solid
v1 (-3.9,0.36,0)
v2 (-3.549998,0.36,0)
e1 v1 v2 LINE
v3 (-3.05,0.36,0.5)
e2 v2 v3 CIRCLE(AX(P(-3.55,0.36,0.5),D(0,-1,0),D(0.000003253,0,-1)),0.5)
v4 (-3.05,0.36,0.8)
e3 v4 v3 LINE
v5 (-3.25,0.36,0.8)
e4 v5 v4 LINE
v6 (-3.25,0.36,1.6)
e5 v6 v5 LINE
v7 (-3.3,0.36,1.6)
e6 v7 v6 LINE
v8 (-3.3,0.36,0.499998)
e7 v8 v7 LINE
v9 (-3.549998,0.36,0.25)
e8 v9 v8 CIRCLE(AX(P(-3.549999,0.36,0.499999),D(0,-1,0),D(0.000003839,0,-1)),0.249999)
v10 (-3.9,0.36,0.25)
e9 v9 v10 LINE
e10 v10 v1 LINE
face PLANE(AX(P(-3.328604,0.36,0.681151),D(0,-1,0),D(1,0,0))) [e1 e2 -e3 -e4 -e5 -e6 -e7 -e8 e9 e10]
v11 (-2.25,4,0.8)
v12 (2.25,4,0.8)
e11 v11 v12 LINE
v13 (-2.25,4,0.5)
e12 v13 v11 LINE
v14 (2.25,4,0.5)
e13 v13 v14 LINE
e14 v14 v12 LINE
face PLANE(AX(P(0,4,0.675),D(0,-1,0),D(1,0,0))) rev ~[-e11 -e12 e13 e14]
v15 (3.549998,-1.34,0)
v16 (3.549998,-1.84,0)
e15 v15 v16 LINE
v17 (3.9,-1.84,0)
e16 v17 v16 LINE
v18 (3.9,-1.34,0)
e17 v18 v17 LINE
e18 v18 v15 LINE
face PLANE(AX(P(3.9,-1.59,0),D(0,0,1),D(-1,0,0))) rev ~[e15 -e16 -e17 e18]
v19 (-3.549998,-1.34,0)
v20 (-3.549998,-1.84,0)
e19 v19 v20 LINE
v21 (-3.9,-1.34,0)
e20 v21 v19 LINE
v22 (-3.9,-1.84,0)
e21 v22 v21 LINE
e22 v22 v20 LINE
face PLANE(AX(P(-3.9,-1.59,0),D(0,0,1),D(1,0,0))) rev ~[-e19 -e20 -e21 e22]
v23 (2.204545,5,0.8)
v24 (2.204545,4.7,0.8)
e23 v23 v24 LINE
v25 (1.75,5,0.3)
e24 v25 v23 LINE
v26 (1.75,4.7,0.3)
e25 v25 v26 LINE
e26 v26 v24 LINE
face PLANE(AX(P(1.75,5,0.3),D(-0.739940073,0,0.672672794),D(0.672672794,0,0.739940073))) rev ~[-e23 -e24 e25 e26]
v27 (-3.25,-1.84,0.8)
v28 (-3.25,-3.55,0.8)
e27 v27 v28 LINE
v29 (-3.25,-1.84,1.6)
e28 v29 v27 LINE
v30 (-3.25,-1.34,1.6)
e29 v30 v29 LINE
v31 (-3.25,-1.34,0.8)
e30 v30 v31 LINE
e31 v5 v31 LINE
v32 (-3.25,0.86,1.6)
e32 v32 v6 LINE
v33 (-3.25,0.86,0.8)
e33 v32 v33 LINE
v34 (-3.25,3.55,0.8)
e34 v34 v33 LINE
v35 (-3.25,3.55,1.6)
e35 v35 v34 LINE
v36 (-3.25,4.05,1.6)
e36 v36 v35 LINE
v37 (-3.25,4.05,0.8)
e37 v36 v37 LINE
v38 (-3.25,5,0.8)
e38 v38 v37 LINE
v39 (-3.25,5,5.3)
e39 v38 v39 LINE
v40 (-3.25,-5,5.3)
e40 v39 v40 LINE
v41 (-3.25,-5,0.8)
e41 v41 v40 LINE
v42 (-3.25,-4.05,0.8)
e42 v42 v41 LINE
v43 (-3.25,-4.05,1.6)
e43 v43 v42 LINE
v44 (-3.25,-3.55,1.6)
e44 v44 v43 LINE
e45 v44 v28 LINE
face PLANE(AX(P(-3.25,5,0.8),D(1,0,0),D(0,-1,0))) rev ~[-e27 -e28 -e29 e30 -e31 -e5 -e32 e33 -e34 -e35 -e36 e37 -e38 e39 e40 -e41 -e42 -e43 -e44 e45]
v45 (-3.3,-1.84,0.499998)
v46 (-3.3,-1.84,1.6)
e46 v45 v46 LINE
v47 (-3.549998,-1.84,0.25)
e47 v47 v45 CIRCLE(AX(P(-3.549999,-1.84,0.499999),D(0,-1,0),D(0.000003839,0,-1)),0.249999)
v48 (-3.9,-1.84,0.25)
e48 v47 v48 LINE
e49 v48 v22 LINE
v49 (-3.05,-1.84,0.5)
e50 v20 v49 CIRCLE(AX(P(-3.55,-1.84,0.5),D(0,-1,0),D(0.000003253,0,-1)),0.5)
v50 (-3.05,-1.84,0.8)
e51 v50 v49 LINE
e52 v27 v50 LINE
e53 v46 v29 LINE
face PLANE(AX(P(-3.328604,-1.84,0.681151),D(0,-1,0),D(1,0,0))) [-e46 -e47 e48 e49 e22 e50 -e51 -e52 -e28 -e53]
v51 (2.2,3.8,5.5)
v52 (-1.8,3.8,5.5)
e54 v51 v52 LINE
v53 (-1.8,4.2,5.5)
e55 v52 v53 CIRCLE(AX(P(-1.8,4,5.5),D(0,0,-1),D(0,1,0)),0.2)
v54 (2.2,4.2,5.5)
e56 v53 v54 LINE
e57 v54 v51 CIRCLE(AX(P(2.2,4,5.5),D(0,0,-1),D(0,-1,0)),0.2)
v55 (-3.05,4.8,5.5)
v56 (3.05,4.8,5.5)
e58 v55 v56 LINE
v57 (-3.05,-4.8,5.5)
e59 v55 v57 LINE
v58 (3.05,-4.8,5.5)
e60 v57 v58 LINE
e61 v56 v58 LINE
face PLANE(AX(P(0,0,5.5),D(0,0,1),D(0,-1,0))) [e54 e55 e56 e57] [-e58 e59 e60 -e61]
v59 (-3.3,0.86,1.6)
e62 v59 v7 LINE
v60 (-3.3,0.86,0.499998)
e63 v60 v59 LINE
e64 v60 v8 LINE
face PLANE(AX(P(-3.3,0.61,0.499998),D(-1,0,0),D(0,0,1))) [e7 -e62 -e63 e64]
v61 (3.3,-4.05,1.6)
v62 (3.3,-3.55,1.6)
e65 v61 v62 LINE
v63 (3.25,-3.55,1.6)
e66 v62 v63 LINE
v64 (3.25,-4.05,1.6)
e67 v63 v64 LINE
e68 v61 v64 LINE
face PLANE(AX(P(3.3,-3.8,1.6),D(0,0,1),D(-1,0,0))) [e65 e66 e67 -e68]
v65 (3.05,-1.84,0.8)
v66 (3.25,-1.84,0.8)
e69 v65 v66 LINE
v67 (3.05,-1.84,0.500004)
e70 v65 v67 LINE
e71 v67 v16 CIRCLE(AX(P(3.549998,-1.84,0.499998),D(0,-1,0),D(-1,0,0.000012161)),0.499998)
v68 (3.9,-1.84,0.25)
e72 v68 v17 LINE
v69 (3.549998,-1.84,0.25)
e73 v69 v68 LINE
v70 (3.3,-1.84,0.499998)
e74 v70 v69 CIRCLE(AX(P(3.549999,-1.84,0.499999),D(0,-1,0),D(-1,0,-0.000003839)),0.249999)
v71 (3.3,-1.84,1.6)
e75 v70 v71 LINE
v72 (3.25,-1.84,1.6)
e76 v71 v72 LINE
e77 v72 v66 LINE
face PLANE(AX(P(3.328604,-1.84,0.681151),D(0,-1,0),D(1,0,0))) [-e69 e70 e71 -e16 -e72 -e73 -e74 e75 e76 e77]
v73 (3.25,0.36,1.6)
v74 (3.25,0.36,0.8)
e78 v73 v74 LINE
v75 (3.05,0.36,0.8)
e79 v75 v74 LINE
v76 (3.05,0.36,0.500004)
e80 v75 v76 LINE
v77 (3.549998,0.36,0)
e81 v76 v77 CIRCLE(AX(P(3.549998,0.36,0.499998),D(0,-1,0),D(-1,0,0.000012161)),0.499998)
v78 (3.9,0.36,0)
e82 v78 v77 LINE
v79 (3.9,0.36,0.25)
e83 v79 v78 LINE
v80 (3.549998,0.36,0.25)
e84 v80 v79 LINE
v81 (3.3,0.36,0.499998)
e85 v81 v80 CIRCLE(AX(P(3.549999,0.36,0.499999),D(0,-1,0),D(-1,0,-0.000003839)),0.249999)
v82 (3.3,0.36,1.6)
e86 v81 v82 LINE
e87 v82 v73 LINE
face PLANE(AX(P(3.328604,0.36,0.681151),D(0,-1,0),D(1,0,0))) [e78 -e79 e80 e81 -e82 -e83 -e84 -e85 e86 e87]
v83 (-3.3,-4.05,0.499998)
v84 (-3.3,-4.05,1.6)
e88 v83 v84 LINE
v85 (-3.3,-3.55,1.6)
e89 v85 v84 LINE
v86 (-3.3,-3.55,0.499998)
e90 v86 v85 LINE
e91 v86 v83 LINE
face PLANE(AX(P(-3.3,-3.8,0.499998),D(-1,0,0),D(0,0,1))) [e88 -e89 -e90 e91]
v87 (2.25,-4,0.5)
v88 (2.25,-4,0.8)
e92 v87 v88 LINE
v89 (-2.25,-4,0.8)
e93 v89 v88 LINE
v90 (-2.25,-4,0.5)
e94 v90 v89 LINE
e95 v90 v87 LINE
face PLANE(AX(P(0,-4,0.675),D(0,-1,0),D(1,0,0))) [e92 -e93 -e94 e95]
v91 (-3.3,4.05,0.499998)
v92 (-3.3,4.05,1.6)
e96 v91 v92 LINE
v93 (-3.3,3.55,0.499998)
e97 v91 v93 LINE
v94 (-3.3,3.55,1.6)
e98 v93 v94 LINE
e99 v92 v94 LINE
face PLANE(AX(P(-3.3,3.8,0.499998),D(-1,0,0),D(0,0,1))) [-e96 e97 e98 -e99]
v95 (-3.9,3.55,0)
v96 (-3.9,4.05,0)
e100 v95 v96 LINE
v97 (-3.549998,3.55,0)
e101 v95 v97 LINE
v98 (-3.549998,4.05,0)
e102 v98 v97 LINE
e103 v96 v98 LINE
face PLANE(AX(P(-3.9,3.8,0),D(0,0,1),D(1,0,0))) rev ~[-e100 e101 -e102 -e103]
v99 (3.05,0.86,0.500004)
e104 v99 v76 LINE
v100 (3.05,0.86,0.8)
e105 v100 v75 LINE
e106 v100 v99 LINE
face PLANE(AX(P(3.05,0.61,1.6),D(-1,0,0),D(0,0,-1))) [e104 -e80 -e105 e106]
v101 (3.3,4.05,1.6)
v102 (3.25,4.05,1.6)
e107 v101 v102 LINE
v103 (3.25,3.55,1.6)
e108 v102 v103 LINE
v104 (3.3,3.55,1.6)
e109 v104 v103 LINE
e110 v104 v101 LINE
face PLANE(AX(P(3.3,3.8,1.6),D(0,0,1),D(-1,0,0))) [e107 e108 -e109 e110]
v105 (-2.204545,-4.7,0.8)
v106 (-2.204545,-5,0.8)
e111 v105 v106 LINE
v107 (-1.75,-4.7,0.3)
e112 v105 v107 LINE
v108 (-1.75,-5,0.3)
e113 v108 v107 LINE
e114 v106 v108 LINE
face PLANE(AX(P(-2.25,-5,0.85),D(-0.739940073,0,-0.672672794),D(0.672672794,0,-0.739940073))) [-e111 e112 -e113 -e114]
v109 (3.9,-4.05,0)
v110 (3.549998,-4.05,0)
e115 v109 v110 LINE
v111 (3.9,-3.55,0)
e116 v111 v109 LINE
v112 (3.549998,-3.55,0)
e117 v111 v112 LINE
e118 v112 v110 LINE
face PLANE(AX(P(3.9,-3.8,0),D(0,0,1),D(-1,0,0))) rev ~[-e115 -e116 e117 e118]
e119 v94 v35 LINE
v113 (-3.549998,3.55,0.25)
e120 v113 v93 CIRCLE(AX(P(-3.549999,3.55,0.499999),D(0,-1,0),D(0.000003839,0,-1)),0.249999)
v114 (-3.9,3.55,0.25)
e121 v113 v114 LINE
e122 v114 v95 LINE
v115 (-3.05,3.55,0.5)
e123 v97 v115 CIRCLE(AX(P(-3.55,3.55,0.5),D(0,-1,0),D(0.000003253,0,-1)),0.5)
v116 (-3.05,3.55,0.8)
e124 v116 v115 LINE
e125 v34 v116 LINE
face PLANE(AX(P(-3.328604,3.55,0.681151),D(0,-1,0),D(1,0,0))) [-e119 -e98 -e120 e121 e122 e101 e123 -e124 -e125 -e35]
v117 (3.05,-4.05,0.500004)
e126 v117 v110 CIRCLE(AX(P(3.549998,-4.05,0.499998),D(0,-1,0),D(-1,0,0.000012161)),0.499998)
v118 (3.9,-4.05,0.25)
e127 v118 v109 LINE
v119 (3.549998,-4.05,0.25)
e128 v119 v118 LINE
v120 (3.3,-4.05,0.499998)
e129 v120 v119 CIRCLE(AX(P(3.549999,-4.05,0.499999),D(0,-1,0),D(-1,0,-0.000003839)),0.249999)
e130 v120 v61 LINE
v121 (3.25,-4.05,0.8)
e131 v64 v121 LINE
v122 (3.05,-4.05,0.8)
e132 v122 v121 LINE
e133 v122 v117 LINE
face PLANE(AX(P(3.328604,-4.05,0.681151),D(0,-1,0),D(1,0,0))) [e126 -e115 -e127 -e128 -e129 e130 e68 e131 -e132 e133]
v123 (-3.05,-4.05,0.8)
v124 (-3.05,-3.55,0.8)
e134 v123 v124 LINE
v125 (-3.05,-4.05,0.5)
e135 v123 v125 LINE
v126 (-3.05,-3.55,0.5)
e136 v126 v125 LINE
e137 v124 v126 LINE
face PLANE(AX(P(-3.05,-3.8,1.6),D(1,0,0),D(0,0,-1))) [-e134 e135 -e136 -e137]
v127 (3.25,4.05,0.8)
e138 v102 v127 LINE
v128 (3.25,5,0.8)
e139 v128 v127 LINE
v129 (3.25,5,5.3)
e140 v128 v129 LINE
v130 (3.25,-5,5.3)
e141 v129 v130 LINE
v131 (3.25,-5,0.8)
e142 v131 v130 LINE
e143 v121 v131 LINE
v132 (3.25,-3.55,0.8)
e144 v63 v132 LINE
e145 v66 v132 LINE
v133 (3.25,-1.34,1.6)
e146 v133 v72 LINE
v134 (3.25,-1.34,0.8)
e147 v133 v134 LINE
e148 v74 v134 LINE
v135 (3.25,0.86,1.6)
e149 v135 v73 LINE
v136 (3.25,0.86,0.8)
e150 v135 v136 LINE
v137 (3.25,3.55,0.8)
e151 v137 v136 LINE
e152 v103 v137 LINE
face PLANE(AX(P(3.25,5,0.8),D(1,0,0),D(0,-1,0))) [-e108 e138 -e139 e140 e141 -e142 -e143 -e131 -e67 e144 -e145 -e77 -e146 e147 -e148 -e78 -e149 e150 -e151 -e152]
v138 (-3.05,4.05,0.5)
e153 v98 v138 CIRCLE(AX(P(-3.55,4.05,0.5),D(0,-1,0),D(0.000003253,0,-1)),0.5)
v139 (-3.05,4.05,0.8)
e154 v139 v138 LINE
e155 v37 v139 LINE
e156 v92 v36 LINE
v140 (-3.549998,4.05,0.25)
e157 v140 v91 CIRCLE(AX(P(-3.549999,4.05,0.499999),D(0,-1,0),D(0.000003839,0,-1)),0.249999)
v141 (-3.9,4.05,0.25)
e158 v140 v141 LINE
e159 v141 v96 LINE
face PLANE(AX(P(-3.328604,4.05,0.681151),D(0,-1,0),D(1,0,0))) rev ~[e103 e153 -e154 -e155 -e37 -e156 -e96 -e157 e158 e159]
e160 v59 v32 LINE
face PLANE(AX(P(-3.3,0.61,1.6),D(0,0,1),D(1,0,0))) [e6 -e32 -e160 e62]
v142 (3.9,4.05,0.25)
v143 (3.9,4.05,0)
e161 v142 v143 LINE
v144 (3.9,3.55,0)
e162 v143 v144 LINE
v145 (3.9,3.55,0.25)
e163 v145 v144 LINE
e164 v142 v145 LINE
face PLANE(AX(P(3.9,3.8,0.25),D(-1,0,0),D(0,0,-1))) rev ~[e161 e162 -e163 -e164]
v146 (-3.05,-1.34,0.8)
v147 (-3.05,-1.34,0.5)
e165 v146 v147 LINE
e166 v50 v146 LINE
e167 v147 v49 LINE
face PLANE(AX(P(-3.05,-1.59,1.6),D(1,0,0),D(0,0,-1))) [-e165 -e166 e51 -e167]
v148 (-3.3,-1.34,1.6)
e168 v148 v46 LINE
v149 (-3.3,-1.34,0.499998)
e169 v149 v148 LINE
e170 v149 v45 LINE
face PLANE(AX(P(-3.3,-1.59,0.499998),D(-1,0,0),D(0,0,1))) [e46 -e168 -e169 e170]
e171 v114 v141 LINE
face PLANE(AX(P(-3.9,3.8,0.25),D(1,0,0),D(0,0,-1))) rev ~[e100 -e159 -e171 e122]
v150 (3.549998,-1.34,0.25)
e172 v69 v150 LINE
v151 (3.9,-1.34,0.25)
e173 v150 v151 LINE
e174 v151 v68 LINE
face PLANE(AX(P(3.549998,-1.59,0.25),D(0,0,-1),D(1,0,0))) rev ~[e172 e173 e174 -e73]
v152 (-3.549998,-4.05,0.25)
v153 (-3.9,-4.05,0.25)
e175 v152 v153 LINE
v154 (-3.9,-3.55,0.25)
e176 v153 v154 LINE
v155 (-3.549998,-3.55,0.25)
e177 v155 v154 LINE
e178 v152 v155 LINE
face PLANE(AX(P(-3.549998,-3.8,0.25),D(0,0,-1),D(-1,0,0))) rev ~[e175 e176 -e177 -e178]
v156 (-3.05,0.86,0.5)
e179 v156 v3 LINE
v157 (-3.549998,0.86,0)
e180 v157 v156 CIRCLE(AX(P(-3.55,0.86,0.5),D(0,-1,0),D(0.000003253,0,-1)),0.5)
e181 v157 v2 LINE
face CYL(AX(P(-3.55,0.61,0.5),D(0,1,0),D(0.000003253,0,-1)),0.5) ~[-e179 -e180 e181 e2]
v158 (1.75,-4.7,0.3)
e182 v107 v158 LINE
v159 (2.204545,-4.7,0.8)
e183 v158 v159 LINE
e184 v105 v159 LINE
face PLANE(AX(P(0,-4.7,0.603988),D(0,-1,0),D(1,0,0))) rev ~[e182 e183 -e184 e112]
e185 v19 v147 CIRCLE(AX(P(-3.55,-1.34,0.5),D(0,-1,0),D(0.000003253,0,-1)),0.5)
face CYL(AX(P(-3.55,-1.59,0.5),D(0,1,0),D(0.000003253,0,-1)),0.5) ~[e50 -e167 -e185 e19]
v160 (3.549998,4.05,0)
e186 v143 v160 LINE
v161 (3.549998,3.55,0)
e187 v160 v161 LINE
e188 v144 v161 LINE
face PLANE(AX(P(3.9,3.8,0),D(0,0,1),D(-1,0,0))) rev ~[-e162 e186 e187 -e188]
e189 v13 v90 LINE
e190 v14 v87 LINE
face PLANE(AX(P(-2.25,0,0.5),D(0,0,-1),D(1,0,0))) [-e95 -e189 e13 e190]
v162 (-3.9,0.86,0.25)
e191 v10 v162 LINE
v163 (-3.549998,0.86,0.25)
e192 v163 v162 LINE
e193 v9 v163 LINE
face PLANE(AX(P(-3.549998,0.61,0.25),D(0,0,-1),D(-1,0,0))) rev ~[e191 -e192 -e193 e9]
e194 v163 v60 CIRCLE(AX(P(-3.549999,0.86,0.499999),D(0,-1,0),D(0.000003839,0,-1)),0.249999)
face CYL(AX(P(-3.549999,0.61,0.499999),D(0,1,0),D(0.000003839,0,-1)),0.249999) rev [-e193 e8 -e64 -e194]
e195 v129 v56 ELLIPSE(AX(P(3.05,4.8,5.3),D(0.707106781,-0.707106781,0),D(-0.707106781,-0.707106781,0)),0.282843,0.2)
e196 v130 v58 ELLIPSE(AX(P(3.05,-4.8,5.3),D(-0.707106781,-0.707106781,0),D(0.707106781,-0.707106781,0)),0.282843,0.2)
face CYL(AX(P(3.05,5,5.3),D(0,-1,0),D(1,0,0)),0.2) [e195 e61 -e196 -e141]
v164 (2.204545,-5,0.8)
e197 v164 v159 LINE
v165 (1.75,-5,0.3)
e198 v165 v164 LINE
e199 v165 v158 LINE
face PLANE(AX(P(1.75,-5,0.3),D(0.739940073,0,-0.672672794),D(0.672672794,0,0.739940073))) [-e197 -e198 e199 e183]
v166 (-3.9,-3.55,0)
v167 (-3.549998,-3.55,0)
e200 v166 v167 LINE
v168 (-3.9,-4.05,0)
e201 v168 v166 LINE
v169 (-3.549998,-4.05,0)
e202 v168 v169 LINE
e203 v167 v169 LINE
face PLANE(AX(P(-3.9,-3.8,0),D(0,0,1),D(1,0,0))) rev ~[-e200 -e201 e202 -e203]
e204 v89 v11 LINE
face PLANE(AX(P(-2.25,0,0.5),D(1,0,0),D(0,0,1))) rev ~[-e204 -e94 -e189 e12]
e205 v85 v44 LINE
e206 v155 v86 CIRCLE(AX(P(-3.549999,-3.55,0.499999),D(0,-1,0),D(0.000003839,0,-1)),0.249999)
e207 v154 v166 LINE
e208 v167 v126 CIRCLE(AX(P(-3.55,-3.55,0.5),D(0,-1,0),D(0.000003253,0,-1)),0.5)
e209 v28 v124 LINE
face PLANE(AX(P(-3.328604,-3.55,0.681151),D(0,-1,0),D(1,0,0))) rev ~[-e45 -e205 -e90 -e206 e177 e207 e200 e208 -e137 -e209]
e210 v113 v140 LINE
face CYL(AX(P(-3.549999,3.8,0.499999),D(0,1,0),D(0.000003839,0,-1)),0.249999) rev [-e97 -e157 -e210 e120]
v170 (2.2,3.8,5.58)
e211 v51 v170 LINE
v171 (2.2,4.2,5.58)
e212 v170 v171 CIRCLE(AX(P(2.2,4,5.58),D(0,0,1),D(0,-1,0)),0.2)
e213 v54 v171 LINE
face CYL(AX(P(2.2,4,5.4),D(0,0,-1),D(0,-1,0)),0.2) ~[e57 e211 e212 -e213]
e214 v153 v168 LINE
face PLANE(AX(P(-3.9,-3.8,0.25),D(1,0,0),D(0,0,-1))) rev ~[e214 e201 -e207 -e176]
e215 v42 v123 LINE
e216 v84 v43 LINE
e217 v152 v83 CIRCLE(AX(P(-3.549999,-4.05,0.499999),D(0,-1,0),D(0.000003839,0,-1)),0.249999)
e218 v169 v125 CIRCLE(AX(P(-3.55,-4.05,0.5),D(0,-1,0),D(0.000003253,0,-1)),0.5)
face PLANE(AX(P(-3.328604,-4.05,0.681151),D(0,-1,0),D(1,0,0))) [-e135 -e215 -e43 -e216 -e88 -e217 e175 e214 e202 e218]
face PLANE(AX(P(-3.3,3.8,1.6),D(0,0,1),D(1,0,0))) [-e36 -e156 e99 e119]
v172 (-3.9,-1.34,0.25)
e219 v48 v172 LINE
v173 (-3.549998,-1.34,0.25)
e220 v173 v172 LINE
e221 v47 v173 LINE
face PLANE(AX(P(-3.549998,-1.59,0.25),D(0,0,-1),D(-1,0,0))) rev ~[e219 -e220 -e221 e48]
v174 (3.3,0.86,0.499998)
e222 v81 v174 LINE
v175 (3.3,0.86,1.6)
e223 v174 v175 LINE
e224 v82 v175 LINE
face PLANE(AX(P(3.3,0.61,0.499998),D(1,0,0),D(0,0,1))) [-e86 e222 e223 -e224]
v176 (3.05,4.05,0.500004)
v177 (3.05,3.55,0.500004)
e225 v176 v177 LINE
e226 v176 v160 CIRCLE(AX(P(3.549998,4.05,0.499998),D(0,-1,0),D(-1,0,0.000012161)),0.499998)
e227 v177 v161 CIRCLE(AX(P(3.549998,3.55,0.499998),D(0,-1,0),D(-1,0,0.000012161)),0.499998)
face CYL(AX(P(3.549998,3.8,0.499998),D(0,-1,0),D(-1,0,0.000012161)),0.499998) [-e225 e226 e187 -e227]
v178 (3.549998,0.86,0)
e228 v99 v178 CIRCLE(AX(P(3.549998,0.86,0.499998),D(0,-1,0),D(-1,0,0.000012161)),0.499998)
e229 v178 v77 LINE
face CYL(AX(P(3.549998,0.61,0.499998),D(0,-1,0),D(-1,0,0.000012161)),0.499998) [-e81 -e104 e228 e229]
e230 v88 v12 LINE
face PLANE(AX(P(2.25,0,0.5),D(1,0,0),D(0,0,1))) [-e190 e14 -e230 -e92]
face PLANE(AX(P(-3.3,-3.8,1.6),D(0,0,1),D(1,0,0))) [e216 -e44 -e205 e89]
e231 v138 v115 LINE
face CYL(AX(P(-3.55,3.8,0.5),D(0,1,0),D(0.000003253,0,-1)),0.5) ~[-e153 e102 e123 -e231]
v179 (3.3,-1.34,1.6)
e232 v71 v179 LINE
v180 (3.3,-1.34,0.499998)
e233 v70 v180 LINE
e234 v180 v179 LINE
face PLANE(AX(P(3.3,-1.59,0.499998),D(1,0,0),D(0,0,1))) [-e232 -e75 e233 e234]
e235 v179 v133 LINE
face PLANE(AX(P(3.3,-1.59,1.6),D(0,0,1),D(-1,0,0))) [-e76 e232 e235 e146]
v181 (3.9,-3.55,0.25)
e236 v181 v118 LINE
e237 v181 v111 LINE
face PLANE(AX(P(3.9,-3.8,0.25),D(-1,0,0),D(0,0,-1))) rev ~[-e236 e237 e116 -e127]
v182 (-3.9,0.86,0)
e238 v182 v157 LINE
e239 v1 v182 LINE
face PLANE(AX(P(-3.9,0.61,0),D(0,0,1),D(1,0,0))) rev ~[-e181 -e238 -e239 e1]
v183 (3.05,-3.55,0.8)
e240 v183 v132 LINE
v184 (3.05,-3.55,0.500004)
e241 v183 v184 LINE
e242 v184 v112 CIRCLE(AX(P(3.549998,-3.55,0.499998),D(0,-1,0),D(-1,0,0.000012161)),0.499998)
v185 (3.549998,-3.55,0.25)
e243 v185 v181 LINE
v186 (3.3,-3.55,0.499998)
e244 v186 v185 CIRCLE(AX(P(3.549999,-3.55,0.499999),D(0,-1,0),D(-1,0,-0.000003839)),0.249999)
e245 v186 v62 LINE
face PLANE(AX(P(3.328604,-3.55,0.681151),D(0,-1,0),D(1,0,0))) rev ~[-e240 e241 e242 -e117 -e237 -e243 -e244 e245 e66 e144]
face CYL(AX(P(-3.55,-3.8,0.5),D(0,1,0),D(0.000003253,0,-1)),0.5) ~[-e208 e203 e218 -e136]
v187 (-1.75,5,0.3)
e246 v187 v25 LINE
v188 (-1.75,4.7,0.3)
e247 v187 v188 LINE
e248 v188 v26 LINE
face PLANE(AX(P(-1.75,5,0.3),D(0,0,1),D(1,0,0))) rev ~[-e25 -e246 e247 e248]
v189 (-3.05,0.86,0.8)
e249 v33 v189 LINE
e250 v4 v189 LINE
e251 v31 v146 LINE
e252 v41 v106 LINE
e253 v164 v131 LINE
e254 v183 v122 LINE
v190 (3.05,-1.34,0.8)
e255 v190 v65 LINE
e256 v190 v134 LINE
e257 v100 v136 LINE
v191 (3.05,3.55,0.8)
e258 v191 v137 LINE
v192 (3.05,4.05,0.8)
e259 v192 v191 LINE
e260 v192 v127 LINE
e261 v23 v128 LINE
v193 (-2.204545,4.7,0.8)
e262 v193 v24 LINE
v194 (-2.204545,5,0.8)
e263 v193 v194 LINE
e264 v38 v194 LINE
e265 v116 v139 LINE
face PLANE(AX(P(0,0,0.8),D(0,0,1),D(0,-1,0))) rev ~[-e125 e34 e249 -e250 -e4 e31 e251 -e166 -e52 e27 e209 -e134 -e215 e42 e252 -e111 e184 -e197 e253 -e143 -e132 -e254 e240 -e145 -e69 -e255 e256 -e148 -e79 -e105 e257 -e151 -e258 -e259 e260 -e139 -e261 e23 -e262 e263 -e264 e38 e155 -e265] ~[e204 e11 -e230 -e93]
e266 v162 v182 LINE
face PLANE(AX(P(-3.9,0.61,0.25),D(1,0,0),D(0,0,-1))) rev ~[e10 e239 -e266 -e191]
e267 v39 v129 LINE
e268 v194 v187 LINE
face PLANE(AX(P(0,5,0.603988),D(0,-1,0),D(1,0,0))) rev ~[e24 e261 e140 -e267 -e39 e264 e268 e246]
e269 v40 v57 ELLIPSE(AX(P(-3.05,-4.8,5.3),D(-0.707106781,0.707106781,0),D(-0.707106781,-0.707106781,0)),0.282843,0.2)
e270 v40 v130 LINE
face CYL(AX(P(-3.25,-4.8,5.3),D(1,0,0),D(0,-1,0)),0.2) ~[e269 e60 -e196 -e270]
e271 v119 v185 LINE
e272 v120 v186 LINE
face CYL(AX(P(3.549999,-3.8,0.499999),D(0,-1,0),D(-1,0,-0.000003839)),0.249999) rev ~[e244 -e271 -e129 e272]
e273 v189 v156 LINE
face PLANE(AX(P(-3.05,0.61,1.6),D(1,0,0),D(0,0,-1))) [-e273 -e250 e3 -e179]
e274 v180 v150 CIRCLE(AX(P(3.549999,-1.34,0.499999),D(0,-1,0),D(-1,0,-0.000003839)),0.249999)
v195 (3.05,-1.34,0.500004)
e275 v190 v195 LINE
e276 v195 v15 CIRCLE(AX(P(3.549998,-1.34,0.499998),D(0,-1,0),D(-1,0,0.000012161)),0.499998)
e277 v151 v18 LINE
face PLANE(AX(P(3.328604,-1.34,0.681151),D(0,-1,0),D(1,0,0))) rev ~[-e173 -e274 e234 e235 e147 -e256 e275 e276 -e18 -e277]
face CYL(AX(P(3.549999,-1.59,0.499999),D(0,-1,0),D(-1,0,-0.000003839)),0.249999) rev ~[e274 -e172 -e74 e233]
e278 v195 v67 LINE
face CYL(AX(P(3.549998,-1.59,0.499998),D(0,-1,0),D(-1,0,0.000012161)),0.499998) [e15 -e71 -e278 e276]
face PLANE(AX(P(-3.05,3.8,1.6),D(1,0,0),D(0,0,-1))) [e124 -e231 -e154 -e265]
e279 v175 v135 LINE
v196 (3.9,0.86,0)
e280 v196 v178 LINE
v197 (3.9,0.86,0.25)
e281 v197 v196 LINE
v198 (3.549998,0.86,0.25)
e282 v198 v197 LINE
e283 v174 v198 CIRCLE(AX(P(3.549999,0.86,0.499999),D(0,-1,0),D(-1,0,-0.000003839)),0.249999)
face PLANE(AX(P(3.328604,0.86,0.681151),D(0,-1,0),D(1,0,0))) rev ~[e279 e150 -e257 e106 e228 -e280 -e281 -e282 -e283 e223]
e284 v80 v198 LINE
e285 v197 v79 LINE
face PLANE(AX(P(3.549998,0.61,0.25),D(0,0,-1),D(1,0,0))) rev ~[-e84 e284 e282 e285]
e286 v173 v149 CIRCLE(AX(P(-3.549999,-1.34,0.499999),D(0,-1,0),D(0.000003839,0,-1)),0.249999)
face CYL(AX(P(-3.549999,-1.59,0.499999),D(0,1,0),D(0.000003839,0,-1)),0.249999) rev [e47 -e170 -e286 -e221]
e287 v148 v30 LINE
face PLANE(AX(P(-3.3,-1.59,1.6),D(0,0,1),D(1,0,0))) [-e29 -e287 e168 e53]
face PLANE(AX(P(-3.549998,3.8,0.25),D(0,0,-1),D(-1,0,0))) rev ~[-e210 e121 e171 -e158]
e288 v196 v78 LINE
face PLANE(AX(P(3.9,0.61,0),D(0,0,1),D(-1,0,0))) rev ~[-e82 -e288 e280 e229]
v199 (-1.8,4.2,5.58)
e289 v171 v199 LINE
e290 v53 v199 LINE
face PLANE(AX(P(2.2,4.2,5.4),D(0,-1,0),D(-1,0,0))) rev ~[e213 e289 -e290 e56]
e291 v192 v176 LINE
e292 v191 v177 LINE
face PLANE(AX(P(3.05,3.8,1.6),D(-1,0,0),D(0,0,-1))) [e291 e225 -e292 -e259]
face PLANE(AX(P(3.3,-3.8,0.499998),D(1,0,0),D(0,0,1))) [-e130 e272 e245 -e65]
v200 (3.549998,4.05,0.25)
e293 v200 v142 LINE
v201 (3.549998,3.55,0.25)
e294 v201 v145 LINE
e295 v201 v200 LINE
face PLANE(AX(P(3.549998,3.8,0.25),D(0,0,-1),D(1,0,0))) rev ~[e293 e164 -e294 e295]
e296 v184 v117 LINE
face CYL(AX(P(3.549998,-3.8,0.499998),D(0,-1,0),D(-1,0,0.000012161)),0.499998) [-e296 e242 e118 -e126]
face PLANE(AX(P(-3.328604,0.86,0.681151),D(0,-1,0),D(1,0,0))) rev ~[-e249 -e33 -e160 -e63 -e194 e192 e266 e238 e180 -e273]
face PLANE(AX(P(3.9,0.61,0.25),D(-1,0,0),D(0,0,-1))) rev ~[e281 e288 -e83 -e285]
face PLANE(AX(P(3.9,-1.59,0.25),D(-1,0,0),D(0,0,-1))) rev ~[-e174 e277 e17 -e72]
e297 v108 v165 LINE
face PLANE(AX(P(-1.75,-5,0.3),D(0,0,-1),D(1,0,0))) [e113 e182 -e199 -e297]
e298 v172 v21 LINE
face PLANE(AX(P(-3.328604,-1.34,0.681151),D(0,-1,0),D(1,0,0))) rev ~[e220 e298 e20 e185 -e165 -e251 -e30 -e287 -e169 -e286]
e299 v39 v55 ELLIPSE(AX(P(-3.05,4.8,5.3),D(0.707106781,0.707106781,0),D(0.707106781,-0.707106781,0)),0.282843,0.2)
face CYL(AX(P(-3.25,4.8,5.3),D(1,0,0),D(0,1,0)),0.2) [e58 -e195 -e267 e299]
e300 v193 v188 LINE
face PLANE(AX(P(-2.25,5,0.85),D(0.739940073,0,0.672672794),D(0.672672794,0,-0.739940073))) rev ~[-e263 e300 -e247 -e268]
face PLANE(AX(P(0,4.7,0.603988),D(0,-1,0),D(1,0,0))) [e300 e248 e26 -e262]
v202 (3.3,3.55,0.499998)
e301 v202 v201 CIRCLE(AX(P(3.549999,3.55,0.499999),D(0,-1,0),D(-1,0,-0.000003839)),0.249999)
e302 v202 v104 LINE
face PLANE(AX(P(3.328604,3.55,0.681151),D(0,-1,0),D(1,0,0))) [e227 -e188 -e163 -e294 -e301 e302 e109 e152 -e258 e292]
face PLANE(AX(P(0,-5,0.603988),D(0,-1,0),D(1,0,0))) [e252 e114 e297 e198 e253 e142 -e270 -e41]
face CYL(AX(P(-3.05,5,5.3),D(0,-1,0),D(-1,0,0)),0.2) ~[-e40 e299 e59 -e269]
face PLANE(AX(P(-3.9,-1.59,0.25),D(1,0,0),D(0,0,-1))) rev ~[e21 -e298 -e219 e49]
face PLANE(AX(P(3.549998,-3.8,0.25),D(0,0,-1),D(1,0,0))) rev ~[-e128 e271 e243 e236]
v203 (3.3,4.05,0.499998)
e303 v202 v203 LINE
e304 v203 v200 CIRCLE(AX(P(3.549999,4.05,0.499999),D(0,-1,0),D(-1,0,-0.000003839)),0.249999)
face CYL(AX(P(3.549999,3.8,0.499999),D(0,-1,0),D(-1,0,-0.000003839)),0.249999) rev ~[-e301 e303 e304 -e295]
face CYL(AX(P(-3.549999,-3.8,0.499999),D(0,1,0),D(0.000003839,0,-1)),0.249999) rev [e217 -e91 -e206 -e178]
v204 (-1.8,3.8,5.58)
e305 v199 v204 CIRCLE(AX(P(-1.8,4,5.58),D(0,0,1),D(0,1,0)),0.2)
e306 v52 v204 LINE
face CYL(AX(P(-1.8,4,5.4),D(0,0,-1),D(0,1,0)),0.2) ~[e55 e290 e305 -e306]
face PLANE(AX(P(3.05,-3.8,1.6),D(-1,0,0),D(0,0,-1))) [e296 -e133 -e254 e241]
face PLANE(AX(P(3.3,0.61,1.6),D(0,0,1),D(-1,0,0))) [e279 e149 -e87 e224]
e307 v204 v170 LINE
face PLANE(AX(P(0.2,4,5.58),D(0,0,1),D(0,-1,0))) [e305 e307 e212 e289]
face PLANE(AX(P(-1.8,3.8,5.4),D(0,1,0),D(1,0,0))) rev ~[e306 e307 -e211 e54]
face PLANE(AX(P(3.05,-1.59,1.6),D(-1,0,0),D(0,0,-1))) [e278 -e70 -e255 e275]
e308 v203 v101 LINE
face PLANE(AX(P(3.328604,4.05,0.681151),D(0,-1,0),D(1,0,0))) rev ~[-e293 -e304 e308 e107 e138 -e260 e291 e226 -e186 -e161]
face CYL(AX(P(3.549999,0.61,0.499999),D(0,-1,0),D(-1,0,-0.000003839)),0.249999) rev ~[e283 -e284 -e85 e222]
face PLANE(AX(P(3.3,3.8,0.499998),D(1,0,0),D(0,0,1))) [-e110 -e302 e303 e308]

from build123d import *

# Parameters (mm, degrees)
PAD004_DEPTH = 0.25
PAD003_DEPTH = 0.25
PAD005_DEPTH = 0.25
PAD008_DEPTH = 0.3
SKETCH008_W  = 4.5
SKETCH008_H  = 0.35
PAD006_DEPTH = 4
PAD001_DEPTH = 0.18
PAD002_DEPTH = 0.25
PAD007_DEPTH = 0.3
SKETCH_W     = 10
SKETCH_H     = 6.5
PAD_DEPTH    = 4.7
POCKET_DEPTH = 0.5
FILLET_R     = 0.2


with BuildPart() as pad004:
    # Sketch006 → Pad004 (new body, symmetric)
    with BuildSketch(Plane.XZ.offset(-3.8)):
        with BuildLine():
            Line((-3.9, 0), (-3.549998, 0))
            ThreePointArc((-3.549998, 0), (-3.196446, 0.146447), (-3.05, 0.5))
            Line((-3.05, 1.6), (-3.05, 0.5))
            Line((-3.3, 1.6), (-3.05, 1.6))
            Line((-3.3, 0.499998), (-3.3, 1.6))
            ThreePointArc((-3.549998, 0.25), (-3.373223, 0.323223), (-3.3, 0.499998))
            Line((-3.549998, 0.25), (-3.9, 0.25))
            Line((-3.9, 0.25), (-3.9, 0))
        make_face()
        with BuildLine():
            Line((3.3, 1.6), (3.05, 1.6))
            Line((3.05, 1.6), (3.05, 0.500004))
            ThreePointArc((3.05, 0.500004), (3.196444, 0.146448), (3.549998, 0))
            Line((3.9, 0), (3.549998, 0))
            Line((3.9, 0.25), (3.9, 0))
            Line((3.549998, 0.25), (3.9, 0.25))
            ThreePointArc((3.3, 0.499998), (3.373223, 0.323223), (3.549998, 0.25))
            Line((3.3, 0.499998), (3.3, 1.6))
        make_face()
    extrude(amount=PAD004_DEPTH, both=True)


with BuildPart() as pad003:
    # Sketch005 → Pad003 (new body, symmetric)
    with BuildSketch(Plane.XZ.offset(3.8)):
        with BuildLine():
            Line((-3.9, 0), (-3.549998, 0))
            ThreePointArc((-3.549998, 0), (-3.196446, 0.146447), (-3.05, 0.5))
            Line((-3.05, 1.6), (-3.05, 0.5))
            Line((-3.3, 1.6), (-3.05, 1.6))
            Line((-3.3, 0.499998), (-3.3, 1.6))
            ThreePointArc((-3.549998, 0.25), (-3.373223, 0.323223), (-3.3, 0.499998))
            Line((-3.549998, 0.25), (-3.9, 0.25))
            Line((-3.9, 0.25), (-3.9, 0))
        make_face()
        with BuildLine():
            Line((3.3, 1.6), (3.05, 1.6))
            Line((3.05, 1.6), (3.05, 0.500004))
            ThreePointArc((3.05, 0.500004), (3.196444, 0.146448), (3.549998, 0))
            Line((3.9, 0), (3.549998, 0))
            Line((3.9, 0.25), (3.9, 0))
            Line((3.549998, 0.25), (3.9, 0.25))
            ThreePointArc((3.3, 0.499998), (3.373223, 0.323223), (3.549998, 0.25))
            Line((3.3, 0.499998), (3.3, 1.6))
        make_face()
    extrude(amount=PAD003_DEPTH, both=True)


with BuildPart() as pad005:
    # Sketch007 → Pad005 (new body, symmetric)
    with BuildSketch(Plane.XZ.offset(-0.61)):
        with BuildLine():
            Line((-3.9, 0), (-3.549998, 0))
            ThreePointArc((-3.549998, 0), (-3.196446, 0.146447), (-3.05, 0.5))
            Line((-3.05, 1.6), (-3.05, 0.5))
            Line((-3.3, 1.6), (-3.05, 1.6))
            Line((-3.3, 0.499998), (-3.3, 1.6))
            ThreePointArc((-3.549998, 0.25), (-3.373223, 0.323223), (-3.3, 0.499998))
            Line((-3.549998, 0.25), (-3.9, 0.25))
            Line((-3.9, 0.25), (-3.9, 0))
        make_face()
        with BuildLine():
            Line((3.3, 1.6), (3.05, 1.6))
            Line((3.05, 1.6), (3.05, 0.500004))
            ThreePointArc((3.05, 0.500004), (3.196444, 0.146448), (3.549998, 0))
            Line((3.9, 0), (3.549998, 0))
            Line((3.9, 0.25), (3.9, 0))
            Line((3.549998, 0.25), (3.9, 0.25))
            ThreePointArc((3.3, 0.499998), (3.373223, 0.323223), (3.549998, 0.25))
            Line((3.3, 0.499998), (3.3, 1.6))
        make_face()
    extrude(amount=PAD005_DEPTH, both=True)


with BuildPart() as pad008:
    # Sketch010 → Pad008 (new body)
    with BuildSketch(Plane.XZ.offset(-5)):
        Polygon((-1.75, 0.3), (1.75, 0.3), (2.25, 0.85), (-2.25, 0.85), align=None)
    extrude(amount=PAD008_DEPTH)


with BuildPart() as pad006:
    # Sketch008 → Pad006 (new body, symmetric)
    with BuildSketch(Plane.XZ):
        with Locations((0, 0.675)):
            Rectangle(SKETCH008_W, SKETCH008_H)
    extrude(amount=PAD006_DEPTH, both=True)


with BuildPart() as pad001:
    # Sketch001 → Pad001 (new body)
    with BuildSketch(Plane(origin=(0, 0, 5.4), x_dir=(0, -1, 0), z_dir=(0, 0, 1))):
        with BuildLine():
            Line((-3.8, -1.8), (-3.8, 2.2))
            ThreePointArc((-3.8, 2.2), (-4, 2.4), (-4.2, 2.2))
            Line((-4.2, 2.2), (-4.2, -1.8))
            ThreePointArc((-4.2, -1.8), (-4, -2), (-3.8, -1.8))
        make_face()
    extrude(amount=PAD001_DEPTH)


with BuildPart() as pad002:
    # Sketch004 → Pad002 (new body, symmetric)
    with BuildSketch(Plane.XZ.offset(1.59)):
        with BuildLine():
            Line((-3.9, 0), (-3.549998, 0))
            ThreePointArc((-3.549998, 0), (-3.196446, 0.146447), (-3.05, 0.5))
            Line((-3.05, 1.6), (-3.05, 0.5))
            Line((-3.3, 1.6), (-3.05, 1.6))
            Line((-3.3, 0.499998), (-3.3, 1.6))
            ThreePointArc((-3.549998, 0.25), (-3.373223, 0.323223), (-3.3, 0.499998))
            Line((-3.549998, 0.25), (-3.9, 0.25))
            Line((-3.9, 0.25), (-3.9, 0))
        make_face()
        with BuildLine():
            Line((3.3, 1.6), (3.05, 1.6))
            Line((3.05, 1.6), (3.05, 0.500004))
            ThreePointArc((3.05, 0.500004), (3.196444, 0.146448), (3.549998, 0))
            Line((3.9, 0), (3.549998, 0))
            Line((3.9, 0.25), (3.9, 0))
            Line((3.549998, 0.25), (3.9, 0.25))
            ThreePointArc((3.3, 0.499998), (3.373223, 0.323223), (3.549998, 0.25))
            Line((3.3, 0.499998), (3.3, 1.6))
        make_face()
    extrude(amount=PAD002_DEPTH, both=True)


with BuildPart() as pad007:
    # Sketch009 → Pad007 (new body)
    with BuildSketch(Plane.XZ.offset(5)):
        Polygon((-1.75, 0.3), (1.75, 0.3), (2.25, 0.85), (-2.25, 0.85), align=None)
    extrude(amount=-PAD007_DEPTH)


with BuildPart() as relay_dpdt_omron_g6k_2f_y:
    # Sketch → Pad (new body)
    with BuildSketch(Plane(origin=(0, 0, 0.8), x_dir=(0, -1, 0), z_dir=(0, 0, 1))):
        Rectangle(SKETCH_W, SKETCH_H)
    extrude(amount=PAD_DEPTH)

    # Sketch003 → Pocket (cut)
    with BuildSketch(Plane(origin=(0, 0, 5.5), x_dir=(0, -1, 0), z_dir=(0, 0, 1))):
        with BuildLine():
            ThreePointArc((-0.318267, 7.6), (0.223846, 7.813173), (0.45, 8.35))
            Line((0.45, 8.35), (-2.05, 8.35))
            Line((-2.05, 8.35), (-2.05, 7.6))
            Line((-2.05, 7.6), (-0.318267, 7.6))
        make_face()
        with BuildLine():
            Line((9.6, -0.75), (12.1, -0.75))
            Line((12.1, -0.75), (12.1, 0))
            Line((10.285847, 0), (12.1, 0))
            ThreePointArc((10.285847, 0), (9.797313, -0.241845), (9.6, -0.75))
        make_face()
    extrude(amount=-POCKET_DEPTH, mode=Mode.SUBTRACT)

    # Fillet
    fillet_edges = [relay_dpdt_omron_g6k_2f_y.edges().sort_by_distance(p)[0] for p in [
        (-3.25, 0, 5.5),
        (0, -5, 5.5),
        (3.25, 0, 5.5),
        (0, 5, 5.5),
    ]]
    fillet(fillet_edges, radius=FILLET_R)

    # Fillet_mp_cp: union Pad004, Pad003, Pad005, Pad008, Pad006, Pad001, Pad002, Pad007
    add(pad004.part)
    add(pad003.part)
    add(pad005.part)
    add(pad008.part)
    add(pad006.part)
    add(pad001.part)
    add(pad002.part)
    add(pad007.part)


solid = relay_dpdt_omron_g6k_2f_y.part
